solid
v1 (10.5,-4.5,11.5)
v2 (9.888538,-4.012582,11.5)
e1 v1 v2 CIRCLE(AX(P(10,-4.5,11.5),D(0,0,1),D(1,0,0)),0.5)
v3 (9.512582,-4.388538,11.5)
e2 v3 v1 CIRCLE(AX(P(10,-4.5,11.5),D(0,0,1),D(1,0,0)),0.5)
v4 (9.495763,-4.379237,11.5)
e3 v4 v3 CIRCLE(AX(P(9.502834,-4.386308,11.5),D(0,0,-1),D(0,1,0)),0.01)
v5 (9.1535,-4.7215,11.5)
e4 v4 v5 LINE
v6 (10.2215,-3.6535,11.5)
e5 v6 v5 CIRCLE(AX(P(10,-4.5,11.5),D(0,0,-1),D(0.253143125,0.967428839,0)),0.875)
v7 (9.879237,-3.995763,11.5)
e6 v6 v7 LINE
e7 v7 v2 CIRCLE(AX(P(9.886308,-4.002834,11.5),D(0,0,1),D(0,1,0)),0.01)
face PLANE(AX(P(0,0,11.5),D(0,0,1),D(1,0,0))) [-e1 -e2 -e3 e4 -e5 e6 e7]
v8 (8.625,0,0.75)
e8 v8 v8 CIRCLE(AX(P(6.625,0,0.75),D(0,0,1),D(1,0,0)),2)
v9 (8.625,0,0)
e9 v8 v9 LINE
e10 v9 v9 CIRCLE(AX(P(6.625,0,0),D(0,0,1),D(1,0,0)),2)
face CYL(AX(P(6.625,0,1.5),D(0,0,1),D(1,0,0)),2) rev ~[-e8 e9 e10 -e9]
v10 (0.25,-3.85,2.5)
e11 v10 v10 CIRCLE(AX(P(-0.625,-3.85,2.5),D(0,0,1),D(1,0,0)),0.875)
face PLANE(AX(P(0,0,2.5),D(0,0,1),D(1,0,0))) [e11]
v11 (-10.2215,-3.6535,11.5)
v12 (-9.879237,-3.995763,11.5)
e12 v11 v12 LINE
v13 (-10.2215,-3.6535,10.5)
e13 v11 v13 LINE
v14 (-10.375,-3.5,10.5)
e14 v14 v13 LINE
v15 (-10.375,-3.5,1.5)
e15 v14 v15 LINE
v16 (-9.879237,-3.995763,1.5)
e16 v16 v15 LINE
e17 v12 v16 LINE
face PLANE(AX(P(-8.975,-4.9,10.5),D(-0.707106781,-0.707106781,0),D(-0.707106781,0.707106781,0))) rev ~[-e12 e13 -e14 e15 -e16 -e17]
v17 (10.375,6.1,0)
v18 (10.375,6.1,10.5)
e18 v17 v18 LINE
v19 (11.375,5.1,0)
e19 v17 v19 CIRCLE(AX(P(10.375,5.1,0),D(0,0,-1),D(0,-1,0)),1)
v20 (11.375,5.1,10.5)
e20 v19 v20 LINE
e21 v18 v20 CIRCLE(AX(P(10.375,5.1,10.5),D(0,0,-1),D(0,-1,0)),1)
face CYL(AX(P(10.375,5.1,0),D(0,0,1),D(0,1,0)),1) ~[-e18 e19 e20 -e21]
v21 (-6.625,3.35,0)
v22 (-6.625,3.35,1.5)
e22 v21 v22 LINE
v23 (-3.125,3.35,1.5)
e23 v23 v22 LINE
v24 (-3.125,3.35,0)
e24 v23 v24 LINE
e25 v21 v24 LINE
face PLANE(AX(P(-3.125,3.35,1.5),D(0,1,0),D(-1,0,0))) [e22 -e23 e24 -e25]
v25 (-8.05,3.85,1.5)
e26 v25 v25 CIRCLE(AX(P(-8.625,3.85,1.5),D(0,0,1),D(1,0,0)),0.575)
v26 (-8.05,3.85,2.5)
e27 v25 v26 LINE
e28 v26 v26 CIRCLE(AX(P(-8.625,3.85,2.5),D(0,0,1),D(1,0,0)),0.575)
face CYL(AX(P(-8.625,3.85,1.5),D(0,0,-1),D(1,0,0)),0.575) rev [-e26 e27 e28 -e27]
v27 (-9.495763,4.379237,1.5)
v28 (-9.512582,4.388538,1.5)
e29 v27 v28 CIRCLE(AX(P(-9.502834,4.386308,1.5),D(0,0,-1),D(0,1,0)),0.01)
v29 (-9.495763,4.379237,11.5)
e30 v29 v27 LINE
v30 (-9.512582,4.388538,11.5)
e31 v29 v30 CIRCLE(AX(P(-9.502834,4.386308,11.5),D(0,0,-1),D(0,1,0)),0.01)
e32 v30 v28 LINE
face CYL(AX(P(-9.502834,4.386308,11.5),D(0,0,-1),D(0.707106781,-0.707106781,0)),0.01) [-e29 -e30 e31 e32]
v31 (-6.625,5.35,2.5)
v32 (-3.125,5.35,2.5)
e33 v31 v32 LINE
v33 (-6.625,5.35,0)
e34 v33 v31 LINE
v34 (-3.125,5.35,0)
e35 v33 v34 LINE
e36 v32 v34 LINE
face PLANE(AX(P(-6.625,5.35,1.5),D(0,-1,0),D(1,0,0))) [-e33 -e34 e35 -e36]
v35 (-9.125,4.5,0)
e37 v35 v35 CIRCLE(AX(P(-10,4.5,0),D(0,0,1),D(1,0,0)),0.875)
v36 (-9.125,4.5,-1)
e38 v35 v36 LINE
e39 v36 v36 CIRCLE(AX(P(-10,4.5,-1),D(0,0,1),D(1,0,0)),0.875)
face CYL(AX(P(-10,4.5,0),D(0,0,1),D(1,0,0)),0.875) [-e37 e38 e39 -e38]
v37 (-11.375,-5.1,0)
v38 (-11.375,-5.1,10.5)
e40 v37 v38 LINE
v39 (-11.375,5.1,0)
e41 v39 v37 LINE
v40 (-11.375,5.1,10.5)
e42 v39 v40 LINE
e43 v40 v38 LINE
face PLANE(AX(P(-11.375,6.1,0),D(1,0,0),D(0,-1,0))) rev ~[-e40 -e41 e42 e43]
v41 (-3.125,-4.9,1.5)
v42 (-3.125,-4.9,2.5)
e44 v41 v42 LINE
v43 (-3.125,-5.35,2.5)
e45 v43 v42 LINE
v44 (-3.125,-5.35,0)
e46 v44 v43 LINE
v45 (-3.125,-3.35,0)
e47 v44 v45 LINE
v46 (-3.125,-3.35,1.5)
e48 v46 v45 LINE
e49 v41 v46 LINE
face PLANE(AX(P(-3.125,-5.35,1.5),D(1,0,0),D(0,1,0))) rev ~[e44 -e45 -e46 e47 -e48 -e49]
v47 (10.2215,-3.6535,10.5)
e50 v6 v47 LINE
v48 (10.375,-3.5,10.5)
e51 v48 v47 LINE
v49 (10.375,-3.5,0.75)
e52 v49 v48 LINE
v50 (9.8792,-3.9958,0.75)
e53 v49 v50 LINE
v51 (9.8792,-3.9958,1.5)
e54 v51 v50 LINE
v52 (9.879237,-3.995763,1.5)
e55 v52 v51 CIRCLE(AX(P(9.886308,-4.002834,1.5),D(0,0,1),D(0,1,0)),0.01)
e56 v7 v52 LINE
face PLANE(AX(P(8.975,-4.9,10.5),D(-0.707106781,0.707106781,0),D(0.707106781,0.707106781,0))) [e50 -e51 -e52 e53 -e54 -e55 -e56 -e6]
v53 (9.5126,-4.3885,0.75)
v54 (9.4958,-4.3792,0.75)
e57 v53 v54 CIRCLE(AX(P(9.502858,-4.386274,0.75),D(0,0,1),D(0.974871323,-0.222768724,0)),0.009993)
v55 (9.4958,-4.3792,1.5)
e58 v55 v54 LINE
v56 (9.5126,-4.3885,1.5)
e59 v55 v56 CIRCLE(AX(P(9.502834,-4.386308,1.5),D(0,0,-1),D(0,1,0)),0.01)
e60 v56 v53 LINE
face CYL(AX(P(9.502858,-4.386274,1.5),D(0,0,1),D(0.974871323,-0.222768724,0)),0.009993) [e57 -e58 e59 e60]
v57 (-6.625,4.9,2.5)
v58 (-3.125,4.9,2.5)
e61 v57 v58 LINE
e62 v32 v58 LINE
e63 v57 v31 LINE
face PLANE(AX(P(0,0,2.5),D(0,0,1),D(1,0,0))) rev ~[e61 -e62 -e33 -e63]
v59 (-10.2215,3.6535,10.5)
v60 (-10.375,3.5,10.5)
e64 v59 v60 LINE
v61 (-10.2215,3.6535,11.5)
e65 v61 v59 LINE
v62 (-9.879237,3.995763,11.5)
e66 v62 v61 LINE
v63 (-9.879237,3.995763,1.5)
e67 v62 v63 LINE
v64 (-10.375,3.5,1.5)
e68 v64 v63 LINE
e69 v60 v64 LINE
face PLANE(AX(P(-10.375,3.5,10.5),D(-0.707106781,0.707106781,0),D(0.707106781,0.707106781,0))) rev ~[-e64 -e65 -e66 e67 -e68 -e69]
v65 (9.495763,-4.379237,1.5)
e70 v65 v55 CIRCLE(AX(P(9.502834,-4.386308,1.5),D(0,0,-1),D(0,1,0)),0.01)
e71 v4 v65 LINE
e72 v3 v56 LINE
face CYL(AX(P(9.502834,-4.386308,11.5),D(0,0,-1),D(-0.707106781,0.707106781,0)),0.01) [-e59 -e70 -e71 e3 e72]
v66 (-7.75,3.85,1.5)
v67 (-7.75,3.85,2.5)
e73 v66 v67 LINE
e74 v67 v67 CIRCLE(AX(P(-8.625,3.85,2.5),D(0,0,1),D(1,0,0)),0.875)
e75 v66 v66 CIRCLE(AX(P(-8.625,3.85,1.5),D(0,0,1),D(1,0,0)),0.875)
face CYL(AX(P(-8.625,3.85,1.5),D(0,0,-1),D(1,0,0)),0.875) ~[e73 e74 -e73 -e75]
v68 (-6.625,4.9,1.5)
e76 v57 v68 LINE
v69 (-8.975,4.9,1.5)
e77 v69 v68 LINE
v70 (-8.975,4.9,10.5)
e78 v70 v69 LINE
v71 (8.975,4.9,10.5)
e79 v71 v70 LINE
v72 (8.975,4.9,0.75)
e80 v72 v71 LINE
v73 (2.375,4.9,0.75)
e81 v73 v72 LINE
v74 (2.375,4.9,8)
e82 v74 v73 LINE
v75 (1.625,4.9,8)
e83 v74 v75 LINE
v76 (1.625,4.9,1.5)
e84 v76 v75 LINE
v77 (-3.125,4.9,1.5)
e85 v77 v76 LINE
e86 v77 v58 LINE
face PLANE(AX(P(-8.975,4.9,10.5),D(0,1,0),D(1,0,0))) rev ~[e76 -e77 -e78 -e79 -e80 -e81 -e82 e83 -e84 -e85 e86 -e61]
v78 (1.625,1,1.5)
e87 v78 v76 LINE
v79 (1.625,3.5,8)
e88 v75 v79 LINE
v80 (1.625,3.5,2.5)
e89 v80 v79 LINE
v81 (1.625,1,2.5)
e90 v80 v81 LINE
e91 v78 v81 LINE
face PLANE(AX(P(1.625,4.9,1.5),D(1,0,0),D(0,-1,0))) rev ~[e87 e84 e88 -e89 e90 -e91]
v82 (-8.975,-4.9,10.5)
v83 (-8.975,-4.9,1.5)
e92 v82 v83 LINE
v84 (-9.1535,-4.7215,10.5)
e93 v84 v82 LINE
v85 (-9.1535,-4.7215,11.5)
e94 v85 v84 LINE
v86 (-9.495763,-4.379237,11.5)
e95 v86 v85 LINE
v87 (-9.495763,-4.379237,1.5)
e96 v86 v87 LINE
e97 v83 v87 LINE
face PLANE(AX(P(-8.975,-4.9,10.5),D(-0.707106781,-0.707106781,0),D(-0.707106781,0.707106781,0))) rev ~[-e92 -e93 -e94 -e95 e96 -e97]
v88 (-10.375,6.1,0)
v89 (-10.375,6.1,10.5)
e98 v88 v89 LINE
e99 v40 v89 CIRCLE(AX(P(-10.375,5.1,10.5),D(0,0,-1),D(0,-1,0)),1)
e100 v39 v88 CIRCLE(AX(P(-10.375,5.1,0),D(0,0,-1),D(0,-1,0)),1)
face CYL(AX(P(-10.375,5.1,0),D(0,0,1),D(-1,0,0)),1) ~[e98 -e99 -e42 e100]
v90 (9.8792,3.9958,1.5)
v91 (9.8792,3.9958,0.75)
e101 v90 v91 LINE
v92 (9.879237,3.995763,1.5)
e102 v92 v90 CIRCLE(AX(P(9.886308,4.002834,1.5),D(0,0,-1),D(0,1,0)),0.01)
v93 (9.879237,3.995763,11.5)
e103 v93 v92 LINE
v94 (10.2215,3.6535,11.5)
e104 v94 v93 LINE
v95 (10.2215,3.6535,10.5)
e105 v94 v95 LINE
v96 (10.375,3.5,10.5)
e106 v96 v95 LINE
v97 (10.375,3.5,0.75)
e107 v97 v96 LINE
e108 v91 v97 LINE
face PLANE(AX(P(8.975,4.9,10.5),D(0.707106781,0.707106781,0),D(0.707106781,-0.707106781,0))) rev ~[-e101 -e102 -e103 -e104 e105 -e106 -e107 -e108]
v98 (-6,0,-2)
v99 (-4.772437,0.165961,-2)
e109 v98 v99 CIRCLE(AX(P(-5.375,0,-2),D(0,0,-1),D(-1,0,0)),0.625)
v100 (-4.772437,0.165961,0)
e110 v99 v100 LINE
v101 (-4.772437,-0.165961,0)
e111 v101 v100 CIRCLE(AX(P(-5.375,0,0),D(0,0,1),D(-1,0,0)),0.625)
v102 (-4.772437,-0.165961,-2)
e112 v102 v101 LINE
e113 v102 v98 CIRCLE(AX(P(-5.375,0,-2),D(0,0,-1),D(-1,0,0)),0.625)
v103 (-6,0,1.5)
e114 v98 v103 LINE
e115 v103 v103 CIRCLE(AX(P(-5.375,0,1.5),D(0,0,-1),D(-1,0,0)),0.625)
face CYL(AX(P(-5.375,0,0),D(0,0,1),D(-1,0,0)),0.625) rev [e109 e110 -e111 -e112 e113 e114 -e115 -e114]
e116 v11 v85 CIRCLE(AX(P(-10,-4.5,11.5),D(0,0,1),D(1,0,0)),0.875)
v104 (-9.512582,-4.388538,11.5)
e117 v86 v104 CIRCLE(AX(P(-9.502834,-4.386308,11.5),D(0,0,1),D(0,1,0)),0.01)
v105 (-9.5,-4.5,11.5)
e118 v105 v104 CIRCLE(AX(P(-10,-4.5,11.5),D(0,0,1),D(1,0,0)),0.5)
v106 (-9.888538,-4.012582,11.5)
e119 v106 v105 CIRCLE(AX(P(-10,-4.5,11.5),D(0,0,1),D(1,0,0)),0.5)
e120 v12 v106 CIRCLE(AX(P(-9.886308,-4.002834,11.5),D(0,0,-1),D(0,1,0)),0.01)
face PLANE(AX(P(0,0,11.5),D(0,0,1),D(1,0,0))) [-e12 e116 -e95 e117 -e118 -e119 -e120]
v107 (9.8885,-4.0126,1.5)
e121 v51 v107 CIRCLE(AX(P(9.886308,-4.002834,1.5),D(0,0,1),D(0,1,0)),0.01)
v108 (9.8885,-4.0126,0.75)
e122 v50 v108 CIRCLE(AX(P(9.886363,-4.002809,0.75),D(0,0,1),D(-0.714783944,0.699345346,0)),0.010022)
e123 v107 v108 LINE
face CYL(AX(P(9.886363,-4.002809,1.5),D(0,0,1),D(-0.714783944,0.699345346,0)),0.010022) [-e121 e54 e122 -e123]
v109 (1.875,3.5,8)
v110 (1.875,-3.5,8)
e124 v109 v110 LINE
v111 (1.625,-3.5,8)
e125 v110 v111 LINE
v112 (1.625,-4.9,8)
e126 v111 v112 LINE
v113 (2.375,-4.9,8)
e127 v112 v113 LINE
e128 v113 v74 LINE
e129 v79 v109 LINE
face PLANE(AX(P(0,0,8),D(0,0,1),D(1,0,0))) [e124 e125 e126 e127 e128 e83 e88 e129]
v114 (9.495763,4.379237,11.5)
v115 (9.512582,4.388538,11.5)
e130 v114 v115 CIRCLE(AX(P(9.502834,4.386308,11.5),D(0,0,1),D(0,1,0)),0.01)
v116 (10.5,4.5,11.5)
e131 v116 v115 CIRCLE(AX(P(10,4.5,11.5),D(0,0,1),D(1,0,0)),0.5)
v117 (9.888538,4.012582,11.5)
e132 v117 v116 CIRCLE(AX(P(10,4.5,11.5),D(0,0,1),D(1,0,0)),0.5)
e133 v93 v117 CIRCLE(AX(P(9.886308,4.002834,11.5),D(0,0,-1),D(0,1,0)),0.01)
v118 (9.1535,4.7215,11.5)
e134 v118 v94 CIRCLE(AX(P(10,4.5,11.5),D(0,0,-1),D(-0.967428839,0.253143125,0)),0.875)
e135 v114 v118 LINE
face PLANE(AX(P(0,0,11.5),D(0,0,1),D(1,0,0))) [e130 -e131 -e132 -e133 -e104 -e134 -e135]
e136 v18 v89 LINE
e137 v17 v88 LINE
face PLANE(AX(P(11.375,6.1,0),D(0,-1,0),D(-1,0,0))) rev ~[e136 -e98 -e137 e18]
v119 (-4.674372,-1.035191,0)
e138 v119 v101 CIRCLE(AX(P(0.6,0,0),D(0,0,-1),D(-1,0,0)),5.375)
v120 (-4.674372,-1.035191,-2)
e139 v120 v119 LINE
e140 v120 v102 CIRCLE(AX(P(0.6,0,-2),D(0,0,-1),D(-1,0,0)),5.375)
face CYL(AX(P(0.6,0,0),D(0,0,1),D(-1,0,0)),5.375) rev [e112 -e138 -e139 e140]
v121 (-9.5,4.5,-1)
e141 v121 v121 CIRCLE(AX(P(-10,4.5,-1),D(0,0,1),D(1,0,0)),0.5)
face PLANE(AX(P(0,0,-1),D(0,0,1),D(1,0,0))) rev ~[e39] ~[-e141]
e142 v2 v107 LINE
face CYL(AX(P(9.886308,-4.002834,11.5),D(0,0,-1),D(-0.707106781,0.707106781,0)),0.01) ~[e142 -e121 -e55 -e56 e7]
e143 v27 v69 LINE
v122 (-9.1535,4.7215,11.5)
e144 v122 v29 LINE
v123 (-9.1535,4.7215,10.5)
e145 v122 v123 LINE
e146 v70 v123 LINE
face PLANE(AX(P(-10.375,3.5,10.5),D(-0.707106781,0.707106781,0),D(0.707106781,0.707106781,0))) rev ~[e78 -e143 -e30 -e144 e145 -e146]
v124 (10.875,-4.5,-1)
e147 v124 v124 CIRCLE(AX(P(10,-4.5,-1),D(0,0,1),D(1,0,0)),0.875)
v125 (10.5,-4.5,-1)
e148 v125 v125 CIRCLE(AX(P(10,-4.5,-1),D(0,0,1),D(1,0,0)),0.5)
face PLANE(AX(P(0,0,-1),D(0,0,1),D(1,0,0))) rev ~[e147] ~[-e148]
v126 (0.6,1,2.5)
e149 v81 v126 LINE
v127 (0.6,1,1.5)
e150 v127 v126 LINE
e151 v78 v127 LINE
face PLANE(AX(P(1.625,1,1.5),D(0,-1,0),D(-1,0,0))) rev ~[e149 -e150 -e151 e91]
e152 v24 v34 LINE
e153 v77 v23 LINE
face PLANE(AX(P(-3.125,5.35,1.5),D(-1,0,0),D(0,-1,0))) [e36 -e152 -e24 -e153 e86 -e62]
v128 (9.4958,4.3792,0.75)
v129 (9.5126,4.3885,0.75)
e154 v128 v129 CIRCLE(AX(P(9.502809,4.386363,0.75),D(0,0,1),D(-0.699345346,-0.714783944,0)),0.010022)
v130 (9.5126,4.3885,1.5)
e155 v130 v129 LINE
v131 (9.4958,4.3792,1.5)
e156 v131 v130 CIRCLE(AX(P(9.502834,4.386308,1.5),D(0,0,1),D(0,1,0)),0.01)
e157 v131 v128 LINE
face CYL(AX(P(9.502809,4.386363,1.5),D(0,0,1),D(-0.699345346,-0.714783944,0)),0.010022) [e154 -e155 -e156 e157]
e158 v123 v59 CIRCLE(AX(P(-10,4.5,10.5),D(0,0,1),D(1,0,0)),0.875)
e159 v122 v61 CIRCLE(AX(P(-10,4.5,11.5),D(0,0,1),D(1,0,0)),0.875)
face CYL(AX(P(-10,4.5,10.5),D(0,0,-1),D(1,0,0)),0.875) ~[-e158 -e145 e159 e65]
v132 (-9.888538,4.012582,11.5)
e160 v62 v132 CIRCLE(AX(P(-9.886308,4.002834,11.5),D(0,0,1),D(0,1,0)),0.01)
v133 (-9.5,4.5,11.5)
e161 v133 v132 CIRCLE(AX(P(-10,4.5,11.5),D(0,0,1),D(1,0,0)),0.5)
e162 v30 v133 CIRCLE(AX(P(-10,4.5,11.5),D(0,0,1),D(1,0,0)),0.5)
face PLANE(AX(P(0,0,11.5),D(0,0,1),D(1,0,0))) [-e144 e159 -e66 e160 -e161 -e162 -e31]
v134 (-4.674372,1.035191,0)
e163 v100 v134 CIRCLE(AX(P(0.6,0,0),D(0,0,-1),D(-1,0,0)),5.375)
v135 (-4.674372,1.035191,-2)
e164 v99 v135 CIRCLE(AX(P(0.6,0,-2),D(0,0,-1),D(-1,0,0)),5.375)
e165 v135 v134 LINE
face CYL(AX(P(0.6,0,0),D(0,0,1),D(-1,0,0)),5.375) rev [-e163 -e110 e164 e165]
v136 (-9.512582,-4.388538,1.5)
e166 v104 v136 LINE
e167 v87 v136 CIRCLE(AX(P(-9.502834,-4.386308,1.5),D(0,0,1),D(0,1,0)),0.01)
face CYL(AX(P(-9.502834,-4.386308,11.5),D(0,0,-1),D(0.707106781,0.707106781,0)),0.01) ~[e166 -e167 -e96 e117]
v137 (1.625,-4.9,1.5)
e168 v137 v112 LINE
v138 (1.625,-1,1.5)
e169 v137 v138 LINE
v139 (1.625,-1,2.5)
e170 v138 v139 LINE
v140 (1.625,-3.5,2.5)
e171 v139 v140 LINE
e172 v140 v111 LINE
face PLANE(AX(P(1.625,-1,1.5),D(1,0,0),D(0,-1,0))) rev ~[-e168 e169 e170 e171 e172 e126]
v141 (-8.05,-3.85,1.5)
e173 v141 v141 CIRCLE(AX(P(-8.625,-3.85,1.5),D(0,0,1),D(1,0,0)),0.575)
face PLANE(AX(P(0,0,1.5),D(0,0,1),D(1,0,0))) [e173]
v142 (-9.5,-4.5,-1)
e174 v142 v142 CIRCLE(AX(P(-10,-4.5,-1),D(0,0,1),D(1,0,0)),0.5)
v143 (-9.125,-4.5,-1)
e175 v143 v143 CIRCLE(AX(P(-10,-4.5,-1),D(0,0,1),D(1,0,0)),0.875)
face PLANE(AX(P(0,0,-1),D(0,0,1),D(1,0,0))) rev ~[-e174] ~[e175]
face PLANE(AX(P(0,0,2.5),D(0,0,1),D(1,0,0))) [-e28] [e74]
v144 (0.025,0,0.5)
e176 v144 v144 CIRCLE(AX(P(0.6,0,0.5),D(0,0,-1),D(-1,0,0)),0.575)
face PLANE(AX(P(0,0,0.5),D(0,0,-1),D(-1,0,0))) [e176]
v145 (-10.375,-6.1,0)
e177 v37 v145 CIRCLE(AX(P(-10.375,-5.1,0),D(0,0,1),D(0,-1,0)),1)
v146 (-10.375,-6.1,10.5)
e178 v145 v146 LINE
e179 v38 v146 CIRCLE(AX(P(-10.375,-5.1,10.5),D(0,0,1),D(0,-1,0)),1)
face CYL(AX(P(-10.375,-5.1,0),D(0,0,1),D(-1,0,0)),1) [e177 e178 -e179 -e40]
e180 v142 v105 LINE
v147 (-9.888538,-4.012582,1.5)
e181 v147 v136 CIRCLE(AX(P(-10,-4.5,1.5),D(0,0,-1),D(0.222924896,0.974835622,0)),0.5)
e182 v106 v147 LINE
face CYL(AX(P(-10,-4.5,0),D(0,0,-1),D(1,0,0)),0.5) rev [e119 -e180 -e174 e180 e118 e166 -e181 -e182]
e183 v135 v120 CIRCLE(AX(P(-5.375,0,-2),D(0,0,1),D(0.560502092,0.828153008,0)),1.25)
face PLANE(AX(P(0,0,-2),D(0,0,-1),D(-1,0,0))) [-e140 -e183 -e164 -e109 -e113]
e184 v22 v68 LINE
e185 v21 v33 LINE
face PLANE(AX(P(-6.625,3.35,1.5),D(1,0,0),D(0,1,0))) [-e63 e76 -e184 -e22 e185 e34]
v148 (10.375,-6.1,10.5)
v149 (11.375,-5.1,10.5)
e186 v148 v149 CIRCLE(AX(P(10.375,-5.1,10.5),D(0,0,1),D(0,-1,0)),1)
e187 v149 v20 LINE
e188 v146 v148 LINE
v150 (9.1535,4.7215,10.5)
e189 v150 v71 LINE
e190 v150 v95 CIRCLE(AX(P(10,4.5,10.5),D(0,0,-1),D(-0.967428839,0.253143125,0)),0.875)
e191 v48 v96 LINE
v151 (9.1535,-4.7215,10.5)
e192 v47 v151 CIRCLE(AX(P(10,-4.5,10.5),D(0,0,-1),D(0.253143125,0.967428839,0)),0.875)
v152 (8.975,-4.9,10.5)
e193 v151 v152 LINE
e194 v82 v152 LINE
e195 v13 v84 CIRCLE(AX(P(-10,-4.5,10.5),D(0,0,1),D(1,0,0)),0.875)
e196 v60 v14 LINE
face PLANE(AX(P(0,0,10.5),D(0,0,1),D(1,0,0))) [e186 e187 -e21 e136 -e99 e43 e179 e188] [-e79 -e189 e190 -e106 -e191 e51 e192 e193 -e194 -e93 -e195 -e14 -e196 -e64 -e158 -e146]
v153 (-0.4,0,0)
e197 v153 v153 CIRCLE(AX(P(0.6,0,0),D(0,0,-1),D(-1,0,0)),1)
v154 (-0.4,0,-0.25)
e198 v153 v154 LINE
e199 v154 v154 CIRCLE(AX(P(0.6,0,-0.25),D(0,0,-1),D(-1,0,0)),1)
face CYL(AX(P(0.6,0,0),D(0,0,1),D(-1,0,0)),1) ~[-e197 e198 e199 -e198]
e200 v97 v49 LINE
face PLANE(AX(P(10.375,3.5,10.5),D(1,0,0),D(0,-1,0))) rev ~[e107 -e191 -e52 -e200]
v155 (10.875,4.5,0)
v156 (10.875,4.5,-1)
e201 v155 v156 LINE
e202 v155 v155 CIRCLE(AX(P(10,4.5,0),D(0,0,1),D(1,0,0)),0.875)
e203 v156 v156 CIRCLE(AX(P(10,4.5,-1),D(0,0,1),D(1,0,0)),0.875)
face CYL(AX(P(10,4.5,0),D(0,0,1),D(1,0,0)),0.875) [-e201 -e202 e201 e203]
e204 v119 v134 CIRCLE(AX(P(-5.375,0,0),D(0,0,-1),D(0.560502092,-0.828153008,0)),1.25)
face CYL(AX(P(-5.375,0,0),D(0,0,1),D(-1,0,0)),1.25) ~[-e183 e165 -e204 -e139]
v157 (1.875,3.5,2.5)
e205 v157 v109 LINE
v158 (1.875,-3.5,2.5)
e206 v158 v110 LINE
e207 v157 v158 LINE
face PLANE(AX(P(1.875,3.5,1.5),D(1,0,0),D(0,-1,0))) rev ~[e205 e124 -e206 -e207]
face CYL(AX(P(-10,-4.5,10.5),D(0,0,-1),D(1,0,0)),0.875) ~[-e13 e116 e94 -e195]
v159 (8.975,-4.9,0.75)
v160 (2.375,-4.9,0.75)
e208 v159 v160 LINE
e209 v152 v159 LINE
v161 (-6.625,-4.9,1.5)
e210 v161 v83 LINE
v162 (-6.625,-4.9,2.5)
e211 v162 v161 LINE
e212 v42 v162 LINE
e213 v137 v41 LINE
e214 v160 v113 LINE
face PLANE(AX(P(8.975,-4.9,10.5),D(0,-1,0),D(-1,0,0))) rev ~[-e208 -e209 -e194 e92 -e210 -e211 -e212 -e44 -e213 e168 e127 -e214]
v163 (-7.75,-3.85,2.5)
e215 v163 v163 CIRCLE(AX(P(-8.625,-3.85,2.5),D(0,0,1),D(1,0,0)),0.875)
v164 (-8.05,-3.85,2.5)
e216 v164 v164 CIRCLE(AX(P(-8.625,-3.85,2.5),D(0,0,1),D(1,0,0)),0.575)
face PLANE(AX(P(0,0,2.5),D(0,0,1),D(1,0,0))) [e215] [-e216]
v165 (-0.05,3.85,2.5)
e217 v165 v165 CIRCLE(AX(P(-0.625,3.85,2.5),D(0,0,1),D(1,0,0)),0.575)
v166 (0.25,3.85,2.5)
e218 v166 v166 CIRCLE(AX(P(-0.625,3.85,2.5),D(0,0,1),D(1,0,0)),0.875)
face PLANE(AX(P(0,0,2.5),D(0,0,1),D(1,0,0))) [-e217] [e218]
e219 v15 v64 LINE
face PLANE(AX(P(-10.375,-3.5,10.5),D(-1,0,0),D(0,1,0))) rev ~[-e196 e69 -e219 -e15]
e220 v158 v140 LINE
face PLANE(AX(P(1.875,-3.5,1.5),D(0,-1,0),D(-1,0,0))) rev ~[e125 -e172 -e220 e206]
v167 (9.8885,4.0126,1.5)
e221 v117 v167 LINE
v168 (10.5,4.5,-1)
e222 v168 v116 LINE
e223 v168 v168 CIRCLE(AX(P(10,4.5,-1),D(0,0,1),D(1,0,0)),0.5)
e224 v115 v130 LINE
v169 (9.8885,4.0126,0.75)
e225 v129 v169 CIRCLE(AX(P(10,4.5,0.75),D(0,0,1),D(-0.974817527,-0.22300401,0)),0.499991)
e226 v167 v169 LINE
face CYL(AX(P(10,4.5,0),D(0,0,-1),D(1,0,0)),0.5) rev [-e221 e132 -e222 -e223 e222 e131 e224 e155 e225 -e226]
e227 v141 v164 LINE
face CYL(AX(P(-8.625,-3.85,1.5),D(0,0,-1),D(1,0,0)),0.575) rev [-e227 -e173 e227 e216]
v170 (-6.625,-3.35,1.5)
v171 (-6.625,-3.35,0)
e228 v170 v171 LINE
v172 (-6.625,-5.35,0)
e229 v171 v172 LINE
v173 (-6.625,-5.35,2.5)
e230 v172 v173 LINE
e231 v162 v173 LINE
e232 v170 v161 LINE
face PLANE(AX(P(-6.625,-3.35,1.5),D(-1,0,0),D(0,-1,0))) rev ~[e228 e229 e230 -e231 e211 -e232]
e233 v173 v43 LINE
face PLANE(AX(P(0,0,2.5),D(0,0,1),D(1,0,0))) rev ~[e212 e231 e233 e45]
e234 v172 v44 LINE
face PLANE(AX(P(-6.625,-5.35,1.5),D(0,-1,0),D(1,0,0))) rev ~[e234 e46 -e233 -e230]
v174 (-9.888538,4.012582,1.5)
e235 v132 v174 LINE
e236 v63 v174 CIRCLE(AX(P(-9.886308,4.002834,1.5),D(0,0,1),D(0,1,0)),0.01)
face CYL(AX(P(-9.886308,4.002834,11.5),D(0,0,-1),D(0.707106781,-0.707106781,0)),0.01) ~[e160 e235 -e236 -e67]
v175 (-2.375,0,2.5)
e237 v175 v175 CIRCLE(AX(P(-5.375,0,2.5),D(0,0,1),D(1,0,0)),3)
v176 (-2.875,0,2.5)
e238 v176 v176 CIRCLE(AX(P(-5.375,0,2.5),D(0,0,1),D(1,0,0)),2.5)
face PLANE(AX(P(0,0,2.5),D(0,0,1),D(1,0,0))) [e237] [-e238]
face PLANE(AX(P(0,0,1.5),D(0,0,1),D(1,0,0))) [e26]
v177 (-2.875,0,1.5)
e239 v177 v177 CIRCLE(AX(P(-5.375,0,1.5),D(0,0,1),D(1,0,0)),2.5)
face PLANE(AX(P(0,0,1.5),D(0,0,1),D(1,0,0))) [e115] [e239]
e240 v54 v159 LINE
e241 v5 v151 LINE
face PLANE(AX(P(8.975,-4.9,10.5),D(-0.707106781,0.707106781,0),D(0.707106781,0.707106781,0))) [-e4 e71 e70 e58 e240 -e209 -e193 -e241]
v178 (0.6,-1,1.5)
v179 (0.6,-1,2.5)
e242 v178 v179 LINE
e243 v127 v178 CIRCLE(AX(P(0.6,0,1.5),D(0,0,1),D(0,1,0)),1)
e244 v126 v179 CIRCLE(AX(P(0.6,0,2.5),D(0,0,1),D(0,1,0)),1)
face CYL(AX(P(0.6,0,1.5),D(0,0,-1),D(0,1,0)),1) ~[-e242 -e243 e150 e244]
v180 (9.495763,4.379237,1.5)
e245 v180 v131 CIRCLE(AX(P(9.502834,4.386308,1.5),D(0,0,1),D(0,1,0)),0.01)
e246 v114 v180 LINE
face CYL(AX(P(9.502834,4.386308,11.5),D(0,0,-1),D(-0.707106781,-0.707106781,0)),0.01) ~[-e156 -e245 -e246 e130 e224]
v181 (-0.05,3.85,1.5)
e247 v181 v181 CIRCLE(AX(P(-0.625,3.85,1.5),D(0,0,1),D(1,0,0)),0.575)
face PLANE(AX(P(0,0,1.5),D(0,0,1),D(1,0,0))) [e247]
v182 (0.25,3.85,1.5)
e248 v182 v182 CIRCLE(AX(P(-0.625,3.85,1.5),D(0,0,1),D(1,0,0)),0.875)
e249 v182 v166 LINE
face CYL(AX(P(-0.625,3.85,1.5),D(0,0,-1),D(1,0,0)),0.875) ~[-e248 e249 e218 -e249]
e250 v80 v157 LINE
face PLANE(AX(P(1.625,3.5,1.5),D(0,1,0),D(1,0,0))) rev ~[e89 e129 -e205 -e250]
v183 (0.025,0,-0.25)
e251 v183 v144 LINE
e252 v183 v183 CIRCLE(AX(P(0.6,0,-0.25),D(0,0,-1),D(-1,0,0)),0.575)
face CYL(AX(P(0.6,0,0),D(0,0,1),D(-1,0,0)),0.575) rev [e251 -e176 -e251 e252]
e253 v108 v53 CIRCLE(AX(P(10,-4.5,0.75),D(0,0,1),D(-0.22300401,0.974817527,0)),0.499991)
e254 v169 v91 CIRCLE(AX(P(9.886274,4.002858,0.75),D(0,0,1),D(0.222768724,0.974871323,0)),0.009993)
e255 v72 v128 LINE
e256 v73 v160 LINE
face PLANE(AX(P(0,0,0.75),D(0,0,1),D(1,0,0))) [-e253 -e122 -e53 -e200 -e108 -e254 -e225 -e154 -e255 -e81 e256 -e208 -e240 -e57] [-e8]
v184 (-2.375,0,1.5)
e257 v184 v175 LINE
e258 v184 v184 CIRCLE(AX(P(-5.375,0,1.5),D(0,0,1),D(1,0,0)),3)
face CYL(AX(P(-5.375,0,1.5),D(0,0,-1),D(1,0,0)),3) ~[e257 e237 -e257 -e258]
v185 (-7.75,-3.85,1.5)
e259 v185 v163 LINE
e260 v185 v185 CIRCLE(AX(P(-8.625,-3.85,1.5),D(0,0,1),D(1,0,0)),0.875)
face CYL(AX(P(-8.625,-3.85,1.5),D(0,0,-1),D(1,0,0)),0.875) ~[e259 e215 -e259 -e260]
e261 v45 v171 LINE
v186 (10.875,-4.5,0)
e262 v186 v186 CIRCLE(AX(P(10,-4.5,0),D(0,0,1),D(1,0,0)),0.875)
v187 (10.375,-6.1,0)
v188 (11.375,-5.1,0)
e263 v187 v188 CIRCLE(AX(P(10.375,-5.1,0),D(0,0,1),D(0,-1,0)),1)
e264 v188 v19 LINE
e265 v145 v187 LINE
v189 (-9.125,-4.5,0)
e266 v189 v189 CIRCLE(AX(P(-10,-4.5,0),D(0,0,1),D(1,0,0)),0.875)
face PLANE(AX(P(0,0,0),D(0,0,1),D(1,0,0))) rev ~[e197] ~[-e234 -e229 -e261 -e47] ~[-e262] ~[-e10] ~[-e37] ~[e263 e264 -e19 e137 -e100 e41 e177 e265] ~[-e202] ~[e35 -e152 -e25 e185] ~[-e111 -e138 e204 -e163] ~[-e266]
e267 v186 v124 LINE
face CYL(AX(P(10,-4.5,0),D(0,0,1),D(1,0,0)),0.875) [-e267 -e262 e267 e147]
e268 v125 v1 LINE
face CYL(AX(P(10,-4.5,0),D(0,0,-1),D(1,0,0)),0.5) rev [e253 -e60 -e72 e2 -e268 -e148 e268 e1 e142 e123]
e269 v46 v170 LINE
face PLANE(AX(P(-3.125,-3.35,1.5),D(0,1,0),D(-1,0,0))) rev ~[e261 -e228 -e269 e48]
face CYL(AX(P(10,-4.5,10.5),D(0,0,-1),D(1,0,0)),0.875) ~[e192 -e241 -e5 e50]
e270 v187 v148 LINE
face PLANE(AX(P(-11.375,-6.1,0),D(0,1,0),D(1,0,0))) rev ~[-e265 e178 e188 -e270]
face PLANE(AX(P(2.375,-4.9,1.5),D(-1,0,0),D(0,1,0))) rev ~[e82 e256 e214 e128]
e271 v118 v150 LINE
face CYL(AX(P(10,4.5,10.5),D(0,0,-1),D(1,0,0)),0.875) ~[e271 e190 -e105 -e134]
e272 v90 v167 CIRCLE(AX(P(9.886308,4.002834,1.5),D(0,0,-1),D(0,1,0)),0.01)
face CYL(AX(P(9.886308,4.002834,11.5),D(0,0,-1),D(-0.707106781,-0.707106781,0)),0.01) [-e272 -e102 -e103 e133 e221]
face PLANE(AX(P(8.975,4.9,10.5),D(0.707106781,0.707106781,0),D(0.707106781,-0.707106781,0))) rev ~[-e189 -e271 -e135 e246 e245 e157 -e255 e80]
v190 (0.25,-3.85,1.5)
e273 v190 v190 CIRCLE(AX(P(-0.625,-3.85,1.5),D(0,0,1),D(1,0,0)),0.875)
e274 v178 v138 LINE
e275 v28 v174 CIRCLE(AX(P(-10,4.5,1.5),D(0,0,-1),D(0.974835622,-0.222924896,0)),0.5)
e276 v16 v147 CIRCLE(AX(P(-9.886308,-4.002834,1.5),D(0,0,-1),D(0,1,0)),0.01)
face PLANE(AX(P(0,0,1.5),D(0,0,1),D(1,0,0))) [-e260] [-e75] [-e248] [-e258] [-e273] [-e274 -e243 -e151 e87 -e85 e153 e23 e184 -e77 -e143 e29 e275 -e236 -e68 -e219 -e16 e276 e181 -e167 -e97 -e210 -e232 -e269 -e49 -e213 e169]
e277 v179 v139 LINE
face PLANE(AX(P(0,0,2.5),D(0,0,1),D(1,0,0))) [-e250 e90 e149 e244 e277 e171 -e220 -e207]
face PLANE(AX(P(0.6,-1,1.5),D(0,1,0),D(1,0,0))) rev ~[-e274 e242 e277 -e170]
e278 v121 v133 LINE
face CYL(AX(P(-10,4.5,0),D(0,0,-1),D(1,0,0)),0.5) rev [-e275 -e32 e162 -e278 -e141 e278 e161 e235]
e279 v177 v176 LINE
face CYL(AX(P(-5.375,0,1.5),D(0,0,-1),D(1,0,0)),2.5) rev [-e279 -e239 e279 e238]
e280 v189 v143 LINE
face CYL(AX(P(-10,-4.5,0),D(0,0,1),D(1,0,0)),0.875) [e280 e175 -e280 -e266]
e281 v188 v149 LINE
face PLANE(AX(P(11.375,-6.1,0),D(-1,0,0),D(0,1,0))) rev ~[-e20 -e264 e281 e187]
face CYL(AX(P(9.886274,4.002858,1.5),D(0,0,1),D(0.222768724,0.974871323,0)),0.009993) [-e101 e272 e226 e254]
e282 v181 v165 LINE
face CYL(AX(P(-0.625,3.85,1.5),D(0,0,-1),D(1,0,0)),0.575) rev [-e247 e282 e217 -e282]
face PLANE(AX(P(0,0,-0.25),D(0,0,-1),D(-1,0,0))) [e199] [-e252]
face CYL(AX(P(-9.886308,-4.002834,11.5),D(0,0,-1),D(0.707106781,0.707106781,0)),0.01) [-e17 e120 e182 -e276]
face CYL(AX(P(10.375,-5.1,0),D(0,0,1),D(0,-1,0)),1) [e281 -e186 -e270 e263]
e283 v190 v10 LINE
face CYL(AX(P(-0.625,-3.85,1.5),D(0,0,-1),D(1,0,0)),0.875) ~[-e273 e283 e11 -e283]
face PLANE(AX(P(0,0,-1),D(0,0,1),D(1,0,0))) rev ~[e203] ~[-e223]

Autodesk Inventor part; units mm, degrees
ref_plane "YZ Plane" through (0, 0, 0) normal (1, 0, 0) x (0, 1, 0)
ref_plane "XZ Plane" through (0, 0, 0) normal (0, 1, 0) x (-1, 0, 0)
ref_plane "XY Plane" through (0, 0, 0) normal (0, 0, 1) x (1, 0, 0)
sketch "Sketch1" plane through (0, 0, 0) normal (0, 0, 1) x (1, 0, 0)
  line L0 (-11.375, -6.1) -> (11.375, -6.1)
  line L1 (11.375, -6.1) -> (11.375, 6.1)
  line L2 (11.375, 6.1) -> (-11.375, 6.1)
  line L3 (-11.375, 6.1) -> (-11.375, -6.1)
  line L4 (-11.375, -6.1) -> (11.375, 6.1) construction
  line L5 (11.375, -6.1) -> (-11.375, 6.1) construction
  line L6 (10, -4.5) -> (-10, -4.5) construction
  line L7 (-10, -4.5) -> (-10, 4.5) construction
  line L8 (-10, 4.5) -> (10, 4.5) construction
  line L9 (10, 4.5) -> (10, -4.5) construction
  line L10 (10, -4.5) -> (-10, 4.5) construction
  line L11 (-10, -4.5) -> (10, 4.5) construction
  circle A0 centre (-10, 4.5) radius 0.5
  circle A1 centre (-10, -4.5) radius 0.5
  circle A2 centre (10, -4.5) radius 0.5
  circle A3 centre (10, 4.5) radius 0.5
  circle A4 centre (-10, 4.5) radius 0.875
  circle A5 centre (10, 4.5) radius 0.875
  circle A6 centre (10, -4.5) radius 0.875
  circle A7 centre (-10, -4.5) radius 0.875
  point P0 (0, 0)
  dimension "d0" = 22.75
  dimension "d1" = 12.2
  dimension "d2" = 9
  dimension "d3" = 20
  dimension "d4" = 1
  dimension "d6" = 1.75
extrude "Extrusion1" add sketch "Sketch1" along normal blind 10.5 contours L3 L2 L1 L0 | A4 | A5 | A6 | A7
fillet "Fillet1" radius 1 4 edges at (11.375, 6.1, 5.25) (-11.375, 6.1, 5.25) (11.375, -6.1, 5.25) (-11.375, -6.1, 5.25)
extrude "Extrusion2" add sketch "Sketch1" against normal blind 1 contours A4 | A5 | A6 | A7
extrude "Extrusion3" add sketch "Sketch1" along normal blind 1 from surface at 10.5 contours A4 | A5 | A6 | A7
sketch "Sketch2" plane through (0, 0, 10.5) normal (0, 0, 1) x (1, 0, 0)
  line L0 (8.975, -4.9) -> (-8.975, -4.9)
  line L1 (-10.375, -3.5) -> (-10.375, 3.5)
  line L2 (-8.975, 4.9) -> (8.975, 4.9)
  line L3 (10.375, 3.5) -> (10.375, -3.5)
  line L4 (10.375, -4.9) -> (-10.375, 4.9) construction
  line L5 (-10.375, -4.9) -> (10.375, 4.9) construction
  line L6 (10.375, 6.1) -> (-10.375, 6.1) projected
  line L7 (11.375, -5.1) -> (11.375, 5.1) projected
  line L8 (8.975, 4.9) -> (10.375, 3.5)
  line L9 (-10.375, 3.5) -> (-8.975, 4.9)
  line L10 (-8.975, -4.9) -> (-10.375, -3.5)
  arc A0 (-10.375, 6.1) -> (-11.375, 5.1) centre (-10.375, 5.1) ccw projected
  line L11 (-11.375, 5.1) -> (-11.375, -5.1) projected
  arc A1 (-11.375, -5.1) -> (-10.375, -6.1) centre (-10.375, -5.1) ccw projected
  line L12 (-10.375, -6.1) -> (10.375, -6.1) projected
  arc A2 (10.375, -6.1) -> (11.375, -5.1) centre (10.375, -5.1) ccw projected
  arc A3 (11.375, 5.1) -> (10.375, 6.1) centre (10.375, 5.1) ccw projected
  line L13 (8.975, -4.9) -> (10.375, -3.5)
  point P0 (0, 0)
  dimension "d15" = 1.2
  dimension "d16" = 1
  dimension "d17" = 1.4
  dimension "d18" = 1.4
  dimension "d19" = 1.4
  dimension "d20" = 1.4
  dimension "d21" = 1.4
  dimension "d22" = 1.4
  dimension "d32" = 1.4
  dimension "d33" = 1.4
extrude "Extrusion6" cut sketch "Sketch2" along normal blind 2 and the other way blind 9 contours L0 L10 L1 L9 L2 L8 L3 L13
fillet "Fillet2" radius 0.01 8 edges at (-9.5221, 4.3529, 6.5) (-9.8529, 4.0221, 6.5) (-9.5221, -4.3529, 6.5) (-9.8529, -4.0221, 6.5) (9.8529, 4.0221, 6.5) (9.5221, 4.3529, 6.5) (9.5221, -4.3529, 6.5) (9.8529, -4.0221, 6.5)
sketch "Sketch3" plane through (0, 0, 1.5) normal (0, 0, 1) x (1, 0, 0)
  line L0 (-8.975, 4.9) -> (8.975, 4.9) construction
  line L1 (-10.375, -3.5) -> (-10.375, 3.5) construction
  line L2 (8.975, -4.9) -> (-8.975, -4.9) construction
  line L3 (10.375, 3.5) -> (10.375, -3.5) construction
  line L4 (2.375, 4.9) -> (1.625, 4.9)
  line L5 (1.625, 4.9) -> (1.625, -4.9)
  line L6 (1.625, -4.9) -> (2.375, -4.9)
  line L7 (2.375, -4.9) -> (2.375, 4.9)
  line L8 (1.625, 3.5) -> (1.875, 3.5)
  line L9 (1.875, 3.5) -> (1.875, -3.5)
  line L10 (1.875, -3.5) -> (1.625, -3.5)
  line L11 (1.625, -3.5) -> (1.625, 3.5)
  line L12 (1.625, 1) -> (0.6, 1)
  arc A0 (0.6, 1) -> (0.6, -1) centre (0.6, 0) ccw
  line L13 (0.6, -1) -> (1.625, -1)
  line L14 (-6.625, 5.35) -> (-3.125, 5.35)
  line L15 (-3.125, 5.35) -> (-3.125, 3.35)
  line L16 (-3.125, 3.35) -> (-6.625, 3.35)
  line L17 (-6.625, 3.35) -> (-6.625, 5.35)
  line L18 (-6.625, -5.35) -> (-3.125, -5.35)
  line L19 (-3.125, -5.35) -> (-3.125, -3.35)
  line L20 (-3.125, -3.35) -> (-6.625, -3.35)
  line L21 (-6.625, -3.35) -> (-6.625, -5.35)
  line L22 (10.375, 6.1) -> (-10.375, 6.1) projected
  line L23 (-10.375, -6.1) -> (10.375, -6.1) projected
  line L24 (-11.375, 5.1) -> (-11.375, -5.1) projected
  point P0 (0, 0)
  point P1 (1.875, 0)
  point P2 (1.625, 0)
  dimension "d34" = 0.75
  dimension "d35" = 12
  dimension "d36" = 7
  dimension "d37" = 0.25
  dimension "d38" = 2
  dimension "d39" = 1.025
  dimension "d46" = 0.75
  dimension "d47" = 0.75
  dimension "d48" = 2
  dimension "d49" = 3.5
  dimension "d50" = 4.75
extrude "Extrusion7" add sketch "Sketch3" along normal blind 6.5 contours L7 L6 L5 L10 L9 L8 L4
sketch "Sketch4" plane through (0, 0, 1.5) normal (0, 0, 1) x (1, 0, 0)
  line L0 (2.375, 4.9) -> (2.375, -4.9) projected
  line L1 (8.975, -4.9) -> (2.375, -4.9) projected
  line L2 (9.4958, -4.3792) -> (8.975, -4.9) projected
  line L3 (10.375, 3.5) -> (10.375, -3.5) projected
  line L4 (9.8792, 3.9958) -> (10.375, 3.5) projected
  line L5 (2.375, 4.9) -> (8.975, 4.9) projected
  circle A0 centre (6.625, 0) radius 2
  line L6 (11.375, -5.1) -> (11.375, 5.1) projected
  arc A1 (9.5126, -4.3885) -> (9.4958, -4.3792) centre (9.5028, -4.3863) ccw projected
  arc A2 (9.8885, -4.0126) -> (9.5126, -4.3885) centre (10, -4.5) ccw projected
  arc A3 (9.8792, -3.9958) -> (9.8885, -4.0126) centre (9.8863, -4.0028) ccw projected
  line L7 (10.375, -3.5) -> (9.8792, -3.9958) projected
  arc A4 (9.8885, 4.0126) -> (9.8792, 3.9958) centre (9.8863, 4.0028) ccw projected
  arc A5 (9.5126, 4.3885) -> (9.8885, 4.0126) centre (10, 4.5) ccw projected
  arc A6 (9.4958, 4.3792) -> (9.5126, 4.3885) centre (9.5028, 4.3863) ccw projected
  line L8 (8.975, 4.9) -> (9.4958, 4.3792) projected
  point P0 (0, 0)
  dimension "d75" = 4
  dimension "d77" = 4.75
extrude "Extrusion9" add sketch "Sketch3" along normal blind 1 contours L8 L9 L10 L5 | L5 L13 A0 L12
extrude "Extrusion10" cut sketch "Sketch3" against normal blind 2 and the other way blind 1 contours L14 L15 L16 L17 | L21 L20 L19 L18
sketch "Sketch6" plane through (0, 0, 0) normal (0, 0, -1) x (-1, 0, 0)
  circle A0 centre (5.375, 0) radius 2.5 construction
  circle A1 centre (-0.6, 0) radius 0.625 projected
  circle A2 centre (5.375, 0) radius 0.625
  circle A3 centre (5.375, 0) radius 1.25
  point P0 (0, 0)
  dimension "d59" = 1.25
  dimension "d60" = 2.5
extrude "Extrusion15" cut sketch "Sketch6" against normal up to surface (1.5 mm away) contours A2
sketch "Sketch7" plane through (0, 0, 0) normal (0, 0, -1) x (-1, 0, 0)
  circle A0 centre (5.375, 0) radius 1.25 projected
  circle A1 centre (5.375, 0) radius 0.625 projected
  point P0 (0, 0)
extrude "Extrusion16" add sketch "Sketch7" along normal blind 2
sketch "Sketch8" plane through (0, 0, 0) normal (0, 0, -1) x (-1, 0, 0)
  circle A0 centre (-0.6, 0) radius 0.625 projected
  circle A1 centre (-0.6, 0) radius 0.575
  circle A2 centre (-0.6, 0) radius 1
  point P0 (0, 0)
  dimension "d69" = 1.15
  dimension "d70" = 2
extrude "Extrusion17" cut sketch "Sketch8" against normal blind 0.5 contours A1
extrude "Extrusion18" add sketch "Sketch8" along normal blind 0.25 contours A0 | A2
extrude "Extrusion19" cut sketch "Sketch4" against normal blind 0.75
extrude "Extrusion20" cut sketch "Sketch4" against normal through all contours A0
sketch "Sketch9" plane through (0, 0, 1.5) normal (0, 0, 1) x (1, 0, 0)
  circle A0 centre (-5.375, 0) radius 0.625 projected
  line L0 (-3.125, 4.9) -> (-3.125, 3.35) projected
  line L1 (-3.125, 3.35) -> (-6.625, 3.35) projected
  line L2 (-6.625, 3.35) -> (-6.625, 4.9) projected
  line L3 (-8.975, 4.9) -> (-6.625, 4.9) projected
  line L4 (-9.4958, 4.3792) -> (-8.975, 4.9) projected
  line L5 (-10.375, -3.5) -> (-10.375, 3.5) projected
  line L6 (-9.8792, -3.9958) -> (-10.375, -3.5) projected
  line L7 (1.625, -4.9) -> (-3.125, -4.9) projected
  line L8 (-6.625, -4.9) -> (-6.625, -3.35) projected
  line L9 (-6.625, -3.35) -> (-3.125, -3.35) projected
  line L10 (-3.125, -3.35) -> (-3.125, -4.9) projected
  line L11 (-6.625, -4.9) -> (-8.975, -4.9) projected
  line L12 (1.625, -4.9) -> (1.625, -1) projected
  line L13 (1.625, -1) -> (0.6, -1) projected
  arc A1 (0.6, 1) -> (0.6, -1) centre (0.6, 0) ccw projected
  line L14 (0.6, 1) -> (1.625, 1) projected
  line L15 (1.625, 1) -> (1.625, 4.9) projected
  line L16 (-3.125, 4.9) -> (1.625, 4.9) projected
  circle A2 centre (-5.375, 0) radius 2.5
  circle A3 centre (-5.375, 0) radius 0.625 projected
  circle A4 centre (-5.375, 0) radius 3
  line L17 (-8.625, 3.85) -> (-0.625, 3.85) construction
  line L18 (-0.625, 3.85) -> (-0.625, -3.85) construction
  line L19 (-0.625, -3.85) -> (-8.625, -3.85) construction
  line L20 (-8.625, -3.85) -> (-8.625, 3.85) construction
  line L21 (-11.375, 5.1) -> (-11.375, -5.1) construction
  circle A5 centre (-8.625, 3.85) radius 0.875
  circle A6 centre (-8.625, -3.85) radius 0.875
  circle A7 centre (-0.625, 3.85) radius 0.875
  circle A8 centre (-0.625, -3.85) radius 0.875
  arc A9 (-9.5126, 4.3885) -> (-9.4958, 4.3792) centre (-9.5028, 4.3863) ccw projected
  arc A10 (-9.8885, 4.0126) -> (-9.5126, 4.3885) centre (-10, 4.5) ccw projected
  arc A11 (-9.8792, 3.9958) -> (-9.8885, 4.0126) centre (-9.8863, 4.0028) ccw projected
  line L22 (-10.375, 3.5) -> (-9.8792, 3.9958) projected
  arc A12 (-9.8885, -4.0126) -> (-9.8792, -3.9958) centre (-9.8863, -4.0028) ccw projected
  arc A13 (-9.5126, -4.3885) -> (-9.8885, -4.0126) centre (-10, -4.5) ccw projected
  arc A14 (-9.4958, -4.3792) -> (-9.5126, -4.3885) centre (-9.5028, -4.3863) ccw projected
  line L23 (-8.975, -4.9) -> (-9.4958, -4.3792) projected
  line L24 (10.375, 6.1) -> (-10.375, 6.1) projected
  circle A15 centre (-8.625, 3.85) radius 0.575
  circle A16 centre (-8.625, -3.85) radius 0.575
  circle A17 centre (-0.625, 3.85) radius 0.575
  point P0 (0, 0)
  point P1 (-8.625, 0)
  dimension "d82" = 5
  dimension "d83" = 6
  dimension "d86" = 8
  dimension "d89" = 2.75
  dimension "d90" = 1.75
  dimension "d95" = 2.25
  dimension "d96" = 1.15
extrude "Extrusion21" add sketch "Sketch9" along normal blind 1 contours A4
extrude "Extrusion22" add sketch "Sketch9" along normal blind 1 contours A5 | A6 | A7 | A8
sketch "Sketch10" plane through (0, 0, 0) normal (0, 0, -1) x (-1, 0, 0)
  circle A0 centre (-0.6, 0) radius 0.575 projected
  circle A1 centre (-0.6, 0) radius 1 projected
  circle A2 centre (-0.6, 0) radius 5.375
  point P0 (0, 0)
  dimension "d97" = 10.75
extrude "Extrusion23" cut sketch "Sketch10" along normal up to surface (2 mm away) contours A2
equation "\"d18\" = d17"
equation "\"d19\" = d17"
equation "\"d20\" = d19"
equation "\"d21\" = d17"
equation "\"d22\" = d21"
equation "\"d32\" = d17"
equation "\"d33\" = d32"
equation "\"d47\" = d46"
properties part number "servo midden" material "Glass"
